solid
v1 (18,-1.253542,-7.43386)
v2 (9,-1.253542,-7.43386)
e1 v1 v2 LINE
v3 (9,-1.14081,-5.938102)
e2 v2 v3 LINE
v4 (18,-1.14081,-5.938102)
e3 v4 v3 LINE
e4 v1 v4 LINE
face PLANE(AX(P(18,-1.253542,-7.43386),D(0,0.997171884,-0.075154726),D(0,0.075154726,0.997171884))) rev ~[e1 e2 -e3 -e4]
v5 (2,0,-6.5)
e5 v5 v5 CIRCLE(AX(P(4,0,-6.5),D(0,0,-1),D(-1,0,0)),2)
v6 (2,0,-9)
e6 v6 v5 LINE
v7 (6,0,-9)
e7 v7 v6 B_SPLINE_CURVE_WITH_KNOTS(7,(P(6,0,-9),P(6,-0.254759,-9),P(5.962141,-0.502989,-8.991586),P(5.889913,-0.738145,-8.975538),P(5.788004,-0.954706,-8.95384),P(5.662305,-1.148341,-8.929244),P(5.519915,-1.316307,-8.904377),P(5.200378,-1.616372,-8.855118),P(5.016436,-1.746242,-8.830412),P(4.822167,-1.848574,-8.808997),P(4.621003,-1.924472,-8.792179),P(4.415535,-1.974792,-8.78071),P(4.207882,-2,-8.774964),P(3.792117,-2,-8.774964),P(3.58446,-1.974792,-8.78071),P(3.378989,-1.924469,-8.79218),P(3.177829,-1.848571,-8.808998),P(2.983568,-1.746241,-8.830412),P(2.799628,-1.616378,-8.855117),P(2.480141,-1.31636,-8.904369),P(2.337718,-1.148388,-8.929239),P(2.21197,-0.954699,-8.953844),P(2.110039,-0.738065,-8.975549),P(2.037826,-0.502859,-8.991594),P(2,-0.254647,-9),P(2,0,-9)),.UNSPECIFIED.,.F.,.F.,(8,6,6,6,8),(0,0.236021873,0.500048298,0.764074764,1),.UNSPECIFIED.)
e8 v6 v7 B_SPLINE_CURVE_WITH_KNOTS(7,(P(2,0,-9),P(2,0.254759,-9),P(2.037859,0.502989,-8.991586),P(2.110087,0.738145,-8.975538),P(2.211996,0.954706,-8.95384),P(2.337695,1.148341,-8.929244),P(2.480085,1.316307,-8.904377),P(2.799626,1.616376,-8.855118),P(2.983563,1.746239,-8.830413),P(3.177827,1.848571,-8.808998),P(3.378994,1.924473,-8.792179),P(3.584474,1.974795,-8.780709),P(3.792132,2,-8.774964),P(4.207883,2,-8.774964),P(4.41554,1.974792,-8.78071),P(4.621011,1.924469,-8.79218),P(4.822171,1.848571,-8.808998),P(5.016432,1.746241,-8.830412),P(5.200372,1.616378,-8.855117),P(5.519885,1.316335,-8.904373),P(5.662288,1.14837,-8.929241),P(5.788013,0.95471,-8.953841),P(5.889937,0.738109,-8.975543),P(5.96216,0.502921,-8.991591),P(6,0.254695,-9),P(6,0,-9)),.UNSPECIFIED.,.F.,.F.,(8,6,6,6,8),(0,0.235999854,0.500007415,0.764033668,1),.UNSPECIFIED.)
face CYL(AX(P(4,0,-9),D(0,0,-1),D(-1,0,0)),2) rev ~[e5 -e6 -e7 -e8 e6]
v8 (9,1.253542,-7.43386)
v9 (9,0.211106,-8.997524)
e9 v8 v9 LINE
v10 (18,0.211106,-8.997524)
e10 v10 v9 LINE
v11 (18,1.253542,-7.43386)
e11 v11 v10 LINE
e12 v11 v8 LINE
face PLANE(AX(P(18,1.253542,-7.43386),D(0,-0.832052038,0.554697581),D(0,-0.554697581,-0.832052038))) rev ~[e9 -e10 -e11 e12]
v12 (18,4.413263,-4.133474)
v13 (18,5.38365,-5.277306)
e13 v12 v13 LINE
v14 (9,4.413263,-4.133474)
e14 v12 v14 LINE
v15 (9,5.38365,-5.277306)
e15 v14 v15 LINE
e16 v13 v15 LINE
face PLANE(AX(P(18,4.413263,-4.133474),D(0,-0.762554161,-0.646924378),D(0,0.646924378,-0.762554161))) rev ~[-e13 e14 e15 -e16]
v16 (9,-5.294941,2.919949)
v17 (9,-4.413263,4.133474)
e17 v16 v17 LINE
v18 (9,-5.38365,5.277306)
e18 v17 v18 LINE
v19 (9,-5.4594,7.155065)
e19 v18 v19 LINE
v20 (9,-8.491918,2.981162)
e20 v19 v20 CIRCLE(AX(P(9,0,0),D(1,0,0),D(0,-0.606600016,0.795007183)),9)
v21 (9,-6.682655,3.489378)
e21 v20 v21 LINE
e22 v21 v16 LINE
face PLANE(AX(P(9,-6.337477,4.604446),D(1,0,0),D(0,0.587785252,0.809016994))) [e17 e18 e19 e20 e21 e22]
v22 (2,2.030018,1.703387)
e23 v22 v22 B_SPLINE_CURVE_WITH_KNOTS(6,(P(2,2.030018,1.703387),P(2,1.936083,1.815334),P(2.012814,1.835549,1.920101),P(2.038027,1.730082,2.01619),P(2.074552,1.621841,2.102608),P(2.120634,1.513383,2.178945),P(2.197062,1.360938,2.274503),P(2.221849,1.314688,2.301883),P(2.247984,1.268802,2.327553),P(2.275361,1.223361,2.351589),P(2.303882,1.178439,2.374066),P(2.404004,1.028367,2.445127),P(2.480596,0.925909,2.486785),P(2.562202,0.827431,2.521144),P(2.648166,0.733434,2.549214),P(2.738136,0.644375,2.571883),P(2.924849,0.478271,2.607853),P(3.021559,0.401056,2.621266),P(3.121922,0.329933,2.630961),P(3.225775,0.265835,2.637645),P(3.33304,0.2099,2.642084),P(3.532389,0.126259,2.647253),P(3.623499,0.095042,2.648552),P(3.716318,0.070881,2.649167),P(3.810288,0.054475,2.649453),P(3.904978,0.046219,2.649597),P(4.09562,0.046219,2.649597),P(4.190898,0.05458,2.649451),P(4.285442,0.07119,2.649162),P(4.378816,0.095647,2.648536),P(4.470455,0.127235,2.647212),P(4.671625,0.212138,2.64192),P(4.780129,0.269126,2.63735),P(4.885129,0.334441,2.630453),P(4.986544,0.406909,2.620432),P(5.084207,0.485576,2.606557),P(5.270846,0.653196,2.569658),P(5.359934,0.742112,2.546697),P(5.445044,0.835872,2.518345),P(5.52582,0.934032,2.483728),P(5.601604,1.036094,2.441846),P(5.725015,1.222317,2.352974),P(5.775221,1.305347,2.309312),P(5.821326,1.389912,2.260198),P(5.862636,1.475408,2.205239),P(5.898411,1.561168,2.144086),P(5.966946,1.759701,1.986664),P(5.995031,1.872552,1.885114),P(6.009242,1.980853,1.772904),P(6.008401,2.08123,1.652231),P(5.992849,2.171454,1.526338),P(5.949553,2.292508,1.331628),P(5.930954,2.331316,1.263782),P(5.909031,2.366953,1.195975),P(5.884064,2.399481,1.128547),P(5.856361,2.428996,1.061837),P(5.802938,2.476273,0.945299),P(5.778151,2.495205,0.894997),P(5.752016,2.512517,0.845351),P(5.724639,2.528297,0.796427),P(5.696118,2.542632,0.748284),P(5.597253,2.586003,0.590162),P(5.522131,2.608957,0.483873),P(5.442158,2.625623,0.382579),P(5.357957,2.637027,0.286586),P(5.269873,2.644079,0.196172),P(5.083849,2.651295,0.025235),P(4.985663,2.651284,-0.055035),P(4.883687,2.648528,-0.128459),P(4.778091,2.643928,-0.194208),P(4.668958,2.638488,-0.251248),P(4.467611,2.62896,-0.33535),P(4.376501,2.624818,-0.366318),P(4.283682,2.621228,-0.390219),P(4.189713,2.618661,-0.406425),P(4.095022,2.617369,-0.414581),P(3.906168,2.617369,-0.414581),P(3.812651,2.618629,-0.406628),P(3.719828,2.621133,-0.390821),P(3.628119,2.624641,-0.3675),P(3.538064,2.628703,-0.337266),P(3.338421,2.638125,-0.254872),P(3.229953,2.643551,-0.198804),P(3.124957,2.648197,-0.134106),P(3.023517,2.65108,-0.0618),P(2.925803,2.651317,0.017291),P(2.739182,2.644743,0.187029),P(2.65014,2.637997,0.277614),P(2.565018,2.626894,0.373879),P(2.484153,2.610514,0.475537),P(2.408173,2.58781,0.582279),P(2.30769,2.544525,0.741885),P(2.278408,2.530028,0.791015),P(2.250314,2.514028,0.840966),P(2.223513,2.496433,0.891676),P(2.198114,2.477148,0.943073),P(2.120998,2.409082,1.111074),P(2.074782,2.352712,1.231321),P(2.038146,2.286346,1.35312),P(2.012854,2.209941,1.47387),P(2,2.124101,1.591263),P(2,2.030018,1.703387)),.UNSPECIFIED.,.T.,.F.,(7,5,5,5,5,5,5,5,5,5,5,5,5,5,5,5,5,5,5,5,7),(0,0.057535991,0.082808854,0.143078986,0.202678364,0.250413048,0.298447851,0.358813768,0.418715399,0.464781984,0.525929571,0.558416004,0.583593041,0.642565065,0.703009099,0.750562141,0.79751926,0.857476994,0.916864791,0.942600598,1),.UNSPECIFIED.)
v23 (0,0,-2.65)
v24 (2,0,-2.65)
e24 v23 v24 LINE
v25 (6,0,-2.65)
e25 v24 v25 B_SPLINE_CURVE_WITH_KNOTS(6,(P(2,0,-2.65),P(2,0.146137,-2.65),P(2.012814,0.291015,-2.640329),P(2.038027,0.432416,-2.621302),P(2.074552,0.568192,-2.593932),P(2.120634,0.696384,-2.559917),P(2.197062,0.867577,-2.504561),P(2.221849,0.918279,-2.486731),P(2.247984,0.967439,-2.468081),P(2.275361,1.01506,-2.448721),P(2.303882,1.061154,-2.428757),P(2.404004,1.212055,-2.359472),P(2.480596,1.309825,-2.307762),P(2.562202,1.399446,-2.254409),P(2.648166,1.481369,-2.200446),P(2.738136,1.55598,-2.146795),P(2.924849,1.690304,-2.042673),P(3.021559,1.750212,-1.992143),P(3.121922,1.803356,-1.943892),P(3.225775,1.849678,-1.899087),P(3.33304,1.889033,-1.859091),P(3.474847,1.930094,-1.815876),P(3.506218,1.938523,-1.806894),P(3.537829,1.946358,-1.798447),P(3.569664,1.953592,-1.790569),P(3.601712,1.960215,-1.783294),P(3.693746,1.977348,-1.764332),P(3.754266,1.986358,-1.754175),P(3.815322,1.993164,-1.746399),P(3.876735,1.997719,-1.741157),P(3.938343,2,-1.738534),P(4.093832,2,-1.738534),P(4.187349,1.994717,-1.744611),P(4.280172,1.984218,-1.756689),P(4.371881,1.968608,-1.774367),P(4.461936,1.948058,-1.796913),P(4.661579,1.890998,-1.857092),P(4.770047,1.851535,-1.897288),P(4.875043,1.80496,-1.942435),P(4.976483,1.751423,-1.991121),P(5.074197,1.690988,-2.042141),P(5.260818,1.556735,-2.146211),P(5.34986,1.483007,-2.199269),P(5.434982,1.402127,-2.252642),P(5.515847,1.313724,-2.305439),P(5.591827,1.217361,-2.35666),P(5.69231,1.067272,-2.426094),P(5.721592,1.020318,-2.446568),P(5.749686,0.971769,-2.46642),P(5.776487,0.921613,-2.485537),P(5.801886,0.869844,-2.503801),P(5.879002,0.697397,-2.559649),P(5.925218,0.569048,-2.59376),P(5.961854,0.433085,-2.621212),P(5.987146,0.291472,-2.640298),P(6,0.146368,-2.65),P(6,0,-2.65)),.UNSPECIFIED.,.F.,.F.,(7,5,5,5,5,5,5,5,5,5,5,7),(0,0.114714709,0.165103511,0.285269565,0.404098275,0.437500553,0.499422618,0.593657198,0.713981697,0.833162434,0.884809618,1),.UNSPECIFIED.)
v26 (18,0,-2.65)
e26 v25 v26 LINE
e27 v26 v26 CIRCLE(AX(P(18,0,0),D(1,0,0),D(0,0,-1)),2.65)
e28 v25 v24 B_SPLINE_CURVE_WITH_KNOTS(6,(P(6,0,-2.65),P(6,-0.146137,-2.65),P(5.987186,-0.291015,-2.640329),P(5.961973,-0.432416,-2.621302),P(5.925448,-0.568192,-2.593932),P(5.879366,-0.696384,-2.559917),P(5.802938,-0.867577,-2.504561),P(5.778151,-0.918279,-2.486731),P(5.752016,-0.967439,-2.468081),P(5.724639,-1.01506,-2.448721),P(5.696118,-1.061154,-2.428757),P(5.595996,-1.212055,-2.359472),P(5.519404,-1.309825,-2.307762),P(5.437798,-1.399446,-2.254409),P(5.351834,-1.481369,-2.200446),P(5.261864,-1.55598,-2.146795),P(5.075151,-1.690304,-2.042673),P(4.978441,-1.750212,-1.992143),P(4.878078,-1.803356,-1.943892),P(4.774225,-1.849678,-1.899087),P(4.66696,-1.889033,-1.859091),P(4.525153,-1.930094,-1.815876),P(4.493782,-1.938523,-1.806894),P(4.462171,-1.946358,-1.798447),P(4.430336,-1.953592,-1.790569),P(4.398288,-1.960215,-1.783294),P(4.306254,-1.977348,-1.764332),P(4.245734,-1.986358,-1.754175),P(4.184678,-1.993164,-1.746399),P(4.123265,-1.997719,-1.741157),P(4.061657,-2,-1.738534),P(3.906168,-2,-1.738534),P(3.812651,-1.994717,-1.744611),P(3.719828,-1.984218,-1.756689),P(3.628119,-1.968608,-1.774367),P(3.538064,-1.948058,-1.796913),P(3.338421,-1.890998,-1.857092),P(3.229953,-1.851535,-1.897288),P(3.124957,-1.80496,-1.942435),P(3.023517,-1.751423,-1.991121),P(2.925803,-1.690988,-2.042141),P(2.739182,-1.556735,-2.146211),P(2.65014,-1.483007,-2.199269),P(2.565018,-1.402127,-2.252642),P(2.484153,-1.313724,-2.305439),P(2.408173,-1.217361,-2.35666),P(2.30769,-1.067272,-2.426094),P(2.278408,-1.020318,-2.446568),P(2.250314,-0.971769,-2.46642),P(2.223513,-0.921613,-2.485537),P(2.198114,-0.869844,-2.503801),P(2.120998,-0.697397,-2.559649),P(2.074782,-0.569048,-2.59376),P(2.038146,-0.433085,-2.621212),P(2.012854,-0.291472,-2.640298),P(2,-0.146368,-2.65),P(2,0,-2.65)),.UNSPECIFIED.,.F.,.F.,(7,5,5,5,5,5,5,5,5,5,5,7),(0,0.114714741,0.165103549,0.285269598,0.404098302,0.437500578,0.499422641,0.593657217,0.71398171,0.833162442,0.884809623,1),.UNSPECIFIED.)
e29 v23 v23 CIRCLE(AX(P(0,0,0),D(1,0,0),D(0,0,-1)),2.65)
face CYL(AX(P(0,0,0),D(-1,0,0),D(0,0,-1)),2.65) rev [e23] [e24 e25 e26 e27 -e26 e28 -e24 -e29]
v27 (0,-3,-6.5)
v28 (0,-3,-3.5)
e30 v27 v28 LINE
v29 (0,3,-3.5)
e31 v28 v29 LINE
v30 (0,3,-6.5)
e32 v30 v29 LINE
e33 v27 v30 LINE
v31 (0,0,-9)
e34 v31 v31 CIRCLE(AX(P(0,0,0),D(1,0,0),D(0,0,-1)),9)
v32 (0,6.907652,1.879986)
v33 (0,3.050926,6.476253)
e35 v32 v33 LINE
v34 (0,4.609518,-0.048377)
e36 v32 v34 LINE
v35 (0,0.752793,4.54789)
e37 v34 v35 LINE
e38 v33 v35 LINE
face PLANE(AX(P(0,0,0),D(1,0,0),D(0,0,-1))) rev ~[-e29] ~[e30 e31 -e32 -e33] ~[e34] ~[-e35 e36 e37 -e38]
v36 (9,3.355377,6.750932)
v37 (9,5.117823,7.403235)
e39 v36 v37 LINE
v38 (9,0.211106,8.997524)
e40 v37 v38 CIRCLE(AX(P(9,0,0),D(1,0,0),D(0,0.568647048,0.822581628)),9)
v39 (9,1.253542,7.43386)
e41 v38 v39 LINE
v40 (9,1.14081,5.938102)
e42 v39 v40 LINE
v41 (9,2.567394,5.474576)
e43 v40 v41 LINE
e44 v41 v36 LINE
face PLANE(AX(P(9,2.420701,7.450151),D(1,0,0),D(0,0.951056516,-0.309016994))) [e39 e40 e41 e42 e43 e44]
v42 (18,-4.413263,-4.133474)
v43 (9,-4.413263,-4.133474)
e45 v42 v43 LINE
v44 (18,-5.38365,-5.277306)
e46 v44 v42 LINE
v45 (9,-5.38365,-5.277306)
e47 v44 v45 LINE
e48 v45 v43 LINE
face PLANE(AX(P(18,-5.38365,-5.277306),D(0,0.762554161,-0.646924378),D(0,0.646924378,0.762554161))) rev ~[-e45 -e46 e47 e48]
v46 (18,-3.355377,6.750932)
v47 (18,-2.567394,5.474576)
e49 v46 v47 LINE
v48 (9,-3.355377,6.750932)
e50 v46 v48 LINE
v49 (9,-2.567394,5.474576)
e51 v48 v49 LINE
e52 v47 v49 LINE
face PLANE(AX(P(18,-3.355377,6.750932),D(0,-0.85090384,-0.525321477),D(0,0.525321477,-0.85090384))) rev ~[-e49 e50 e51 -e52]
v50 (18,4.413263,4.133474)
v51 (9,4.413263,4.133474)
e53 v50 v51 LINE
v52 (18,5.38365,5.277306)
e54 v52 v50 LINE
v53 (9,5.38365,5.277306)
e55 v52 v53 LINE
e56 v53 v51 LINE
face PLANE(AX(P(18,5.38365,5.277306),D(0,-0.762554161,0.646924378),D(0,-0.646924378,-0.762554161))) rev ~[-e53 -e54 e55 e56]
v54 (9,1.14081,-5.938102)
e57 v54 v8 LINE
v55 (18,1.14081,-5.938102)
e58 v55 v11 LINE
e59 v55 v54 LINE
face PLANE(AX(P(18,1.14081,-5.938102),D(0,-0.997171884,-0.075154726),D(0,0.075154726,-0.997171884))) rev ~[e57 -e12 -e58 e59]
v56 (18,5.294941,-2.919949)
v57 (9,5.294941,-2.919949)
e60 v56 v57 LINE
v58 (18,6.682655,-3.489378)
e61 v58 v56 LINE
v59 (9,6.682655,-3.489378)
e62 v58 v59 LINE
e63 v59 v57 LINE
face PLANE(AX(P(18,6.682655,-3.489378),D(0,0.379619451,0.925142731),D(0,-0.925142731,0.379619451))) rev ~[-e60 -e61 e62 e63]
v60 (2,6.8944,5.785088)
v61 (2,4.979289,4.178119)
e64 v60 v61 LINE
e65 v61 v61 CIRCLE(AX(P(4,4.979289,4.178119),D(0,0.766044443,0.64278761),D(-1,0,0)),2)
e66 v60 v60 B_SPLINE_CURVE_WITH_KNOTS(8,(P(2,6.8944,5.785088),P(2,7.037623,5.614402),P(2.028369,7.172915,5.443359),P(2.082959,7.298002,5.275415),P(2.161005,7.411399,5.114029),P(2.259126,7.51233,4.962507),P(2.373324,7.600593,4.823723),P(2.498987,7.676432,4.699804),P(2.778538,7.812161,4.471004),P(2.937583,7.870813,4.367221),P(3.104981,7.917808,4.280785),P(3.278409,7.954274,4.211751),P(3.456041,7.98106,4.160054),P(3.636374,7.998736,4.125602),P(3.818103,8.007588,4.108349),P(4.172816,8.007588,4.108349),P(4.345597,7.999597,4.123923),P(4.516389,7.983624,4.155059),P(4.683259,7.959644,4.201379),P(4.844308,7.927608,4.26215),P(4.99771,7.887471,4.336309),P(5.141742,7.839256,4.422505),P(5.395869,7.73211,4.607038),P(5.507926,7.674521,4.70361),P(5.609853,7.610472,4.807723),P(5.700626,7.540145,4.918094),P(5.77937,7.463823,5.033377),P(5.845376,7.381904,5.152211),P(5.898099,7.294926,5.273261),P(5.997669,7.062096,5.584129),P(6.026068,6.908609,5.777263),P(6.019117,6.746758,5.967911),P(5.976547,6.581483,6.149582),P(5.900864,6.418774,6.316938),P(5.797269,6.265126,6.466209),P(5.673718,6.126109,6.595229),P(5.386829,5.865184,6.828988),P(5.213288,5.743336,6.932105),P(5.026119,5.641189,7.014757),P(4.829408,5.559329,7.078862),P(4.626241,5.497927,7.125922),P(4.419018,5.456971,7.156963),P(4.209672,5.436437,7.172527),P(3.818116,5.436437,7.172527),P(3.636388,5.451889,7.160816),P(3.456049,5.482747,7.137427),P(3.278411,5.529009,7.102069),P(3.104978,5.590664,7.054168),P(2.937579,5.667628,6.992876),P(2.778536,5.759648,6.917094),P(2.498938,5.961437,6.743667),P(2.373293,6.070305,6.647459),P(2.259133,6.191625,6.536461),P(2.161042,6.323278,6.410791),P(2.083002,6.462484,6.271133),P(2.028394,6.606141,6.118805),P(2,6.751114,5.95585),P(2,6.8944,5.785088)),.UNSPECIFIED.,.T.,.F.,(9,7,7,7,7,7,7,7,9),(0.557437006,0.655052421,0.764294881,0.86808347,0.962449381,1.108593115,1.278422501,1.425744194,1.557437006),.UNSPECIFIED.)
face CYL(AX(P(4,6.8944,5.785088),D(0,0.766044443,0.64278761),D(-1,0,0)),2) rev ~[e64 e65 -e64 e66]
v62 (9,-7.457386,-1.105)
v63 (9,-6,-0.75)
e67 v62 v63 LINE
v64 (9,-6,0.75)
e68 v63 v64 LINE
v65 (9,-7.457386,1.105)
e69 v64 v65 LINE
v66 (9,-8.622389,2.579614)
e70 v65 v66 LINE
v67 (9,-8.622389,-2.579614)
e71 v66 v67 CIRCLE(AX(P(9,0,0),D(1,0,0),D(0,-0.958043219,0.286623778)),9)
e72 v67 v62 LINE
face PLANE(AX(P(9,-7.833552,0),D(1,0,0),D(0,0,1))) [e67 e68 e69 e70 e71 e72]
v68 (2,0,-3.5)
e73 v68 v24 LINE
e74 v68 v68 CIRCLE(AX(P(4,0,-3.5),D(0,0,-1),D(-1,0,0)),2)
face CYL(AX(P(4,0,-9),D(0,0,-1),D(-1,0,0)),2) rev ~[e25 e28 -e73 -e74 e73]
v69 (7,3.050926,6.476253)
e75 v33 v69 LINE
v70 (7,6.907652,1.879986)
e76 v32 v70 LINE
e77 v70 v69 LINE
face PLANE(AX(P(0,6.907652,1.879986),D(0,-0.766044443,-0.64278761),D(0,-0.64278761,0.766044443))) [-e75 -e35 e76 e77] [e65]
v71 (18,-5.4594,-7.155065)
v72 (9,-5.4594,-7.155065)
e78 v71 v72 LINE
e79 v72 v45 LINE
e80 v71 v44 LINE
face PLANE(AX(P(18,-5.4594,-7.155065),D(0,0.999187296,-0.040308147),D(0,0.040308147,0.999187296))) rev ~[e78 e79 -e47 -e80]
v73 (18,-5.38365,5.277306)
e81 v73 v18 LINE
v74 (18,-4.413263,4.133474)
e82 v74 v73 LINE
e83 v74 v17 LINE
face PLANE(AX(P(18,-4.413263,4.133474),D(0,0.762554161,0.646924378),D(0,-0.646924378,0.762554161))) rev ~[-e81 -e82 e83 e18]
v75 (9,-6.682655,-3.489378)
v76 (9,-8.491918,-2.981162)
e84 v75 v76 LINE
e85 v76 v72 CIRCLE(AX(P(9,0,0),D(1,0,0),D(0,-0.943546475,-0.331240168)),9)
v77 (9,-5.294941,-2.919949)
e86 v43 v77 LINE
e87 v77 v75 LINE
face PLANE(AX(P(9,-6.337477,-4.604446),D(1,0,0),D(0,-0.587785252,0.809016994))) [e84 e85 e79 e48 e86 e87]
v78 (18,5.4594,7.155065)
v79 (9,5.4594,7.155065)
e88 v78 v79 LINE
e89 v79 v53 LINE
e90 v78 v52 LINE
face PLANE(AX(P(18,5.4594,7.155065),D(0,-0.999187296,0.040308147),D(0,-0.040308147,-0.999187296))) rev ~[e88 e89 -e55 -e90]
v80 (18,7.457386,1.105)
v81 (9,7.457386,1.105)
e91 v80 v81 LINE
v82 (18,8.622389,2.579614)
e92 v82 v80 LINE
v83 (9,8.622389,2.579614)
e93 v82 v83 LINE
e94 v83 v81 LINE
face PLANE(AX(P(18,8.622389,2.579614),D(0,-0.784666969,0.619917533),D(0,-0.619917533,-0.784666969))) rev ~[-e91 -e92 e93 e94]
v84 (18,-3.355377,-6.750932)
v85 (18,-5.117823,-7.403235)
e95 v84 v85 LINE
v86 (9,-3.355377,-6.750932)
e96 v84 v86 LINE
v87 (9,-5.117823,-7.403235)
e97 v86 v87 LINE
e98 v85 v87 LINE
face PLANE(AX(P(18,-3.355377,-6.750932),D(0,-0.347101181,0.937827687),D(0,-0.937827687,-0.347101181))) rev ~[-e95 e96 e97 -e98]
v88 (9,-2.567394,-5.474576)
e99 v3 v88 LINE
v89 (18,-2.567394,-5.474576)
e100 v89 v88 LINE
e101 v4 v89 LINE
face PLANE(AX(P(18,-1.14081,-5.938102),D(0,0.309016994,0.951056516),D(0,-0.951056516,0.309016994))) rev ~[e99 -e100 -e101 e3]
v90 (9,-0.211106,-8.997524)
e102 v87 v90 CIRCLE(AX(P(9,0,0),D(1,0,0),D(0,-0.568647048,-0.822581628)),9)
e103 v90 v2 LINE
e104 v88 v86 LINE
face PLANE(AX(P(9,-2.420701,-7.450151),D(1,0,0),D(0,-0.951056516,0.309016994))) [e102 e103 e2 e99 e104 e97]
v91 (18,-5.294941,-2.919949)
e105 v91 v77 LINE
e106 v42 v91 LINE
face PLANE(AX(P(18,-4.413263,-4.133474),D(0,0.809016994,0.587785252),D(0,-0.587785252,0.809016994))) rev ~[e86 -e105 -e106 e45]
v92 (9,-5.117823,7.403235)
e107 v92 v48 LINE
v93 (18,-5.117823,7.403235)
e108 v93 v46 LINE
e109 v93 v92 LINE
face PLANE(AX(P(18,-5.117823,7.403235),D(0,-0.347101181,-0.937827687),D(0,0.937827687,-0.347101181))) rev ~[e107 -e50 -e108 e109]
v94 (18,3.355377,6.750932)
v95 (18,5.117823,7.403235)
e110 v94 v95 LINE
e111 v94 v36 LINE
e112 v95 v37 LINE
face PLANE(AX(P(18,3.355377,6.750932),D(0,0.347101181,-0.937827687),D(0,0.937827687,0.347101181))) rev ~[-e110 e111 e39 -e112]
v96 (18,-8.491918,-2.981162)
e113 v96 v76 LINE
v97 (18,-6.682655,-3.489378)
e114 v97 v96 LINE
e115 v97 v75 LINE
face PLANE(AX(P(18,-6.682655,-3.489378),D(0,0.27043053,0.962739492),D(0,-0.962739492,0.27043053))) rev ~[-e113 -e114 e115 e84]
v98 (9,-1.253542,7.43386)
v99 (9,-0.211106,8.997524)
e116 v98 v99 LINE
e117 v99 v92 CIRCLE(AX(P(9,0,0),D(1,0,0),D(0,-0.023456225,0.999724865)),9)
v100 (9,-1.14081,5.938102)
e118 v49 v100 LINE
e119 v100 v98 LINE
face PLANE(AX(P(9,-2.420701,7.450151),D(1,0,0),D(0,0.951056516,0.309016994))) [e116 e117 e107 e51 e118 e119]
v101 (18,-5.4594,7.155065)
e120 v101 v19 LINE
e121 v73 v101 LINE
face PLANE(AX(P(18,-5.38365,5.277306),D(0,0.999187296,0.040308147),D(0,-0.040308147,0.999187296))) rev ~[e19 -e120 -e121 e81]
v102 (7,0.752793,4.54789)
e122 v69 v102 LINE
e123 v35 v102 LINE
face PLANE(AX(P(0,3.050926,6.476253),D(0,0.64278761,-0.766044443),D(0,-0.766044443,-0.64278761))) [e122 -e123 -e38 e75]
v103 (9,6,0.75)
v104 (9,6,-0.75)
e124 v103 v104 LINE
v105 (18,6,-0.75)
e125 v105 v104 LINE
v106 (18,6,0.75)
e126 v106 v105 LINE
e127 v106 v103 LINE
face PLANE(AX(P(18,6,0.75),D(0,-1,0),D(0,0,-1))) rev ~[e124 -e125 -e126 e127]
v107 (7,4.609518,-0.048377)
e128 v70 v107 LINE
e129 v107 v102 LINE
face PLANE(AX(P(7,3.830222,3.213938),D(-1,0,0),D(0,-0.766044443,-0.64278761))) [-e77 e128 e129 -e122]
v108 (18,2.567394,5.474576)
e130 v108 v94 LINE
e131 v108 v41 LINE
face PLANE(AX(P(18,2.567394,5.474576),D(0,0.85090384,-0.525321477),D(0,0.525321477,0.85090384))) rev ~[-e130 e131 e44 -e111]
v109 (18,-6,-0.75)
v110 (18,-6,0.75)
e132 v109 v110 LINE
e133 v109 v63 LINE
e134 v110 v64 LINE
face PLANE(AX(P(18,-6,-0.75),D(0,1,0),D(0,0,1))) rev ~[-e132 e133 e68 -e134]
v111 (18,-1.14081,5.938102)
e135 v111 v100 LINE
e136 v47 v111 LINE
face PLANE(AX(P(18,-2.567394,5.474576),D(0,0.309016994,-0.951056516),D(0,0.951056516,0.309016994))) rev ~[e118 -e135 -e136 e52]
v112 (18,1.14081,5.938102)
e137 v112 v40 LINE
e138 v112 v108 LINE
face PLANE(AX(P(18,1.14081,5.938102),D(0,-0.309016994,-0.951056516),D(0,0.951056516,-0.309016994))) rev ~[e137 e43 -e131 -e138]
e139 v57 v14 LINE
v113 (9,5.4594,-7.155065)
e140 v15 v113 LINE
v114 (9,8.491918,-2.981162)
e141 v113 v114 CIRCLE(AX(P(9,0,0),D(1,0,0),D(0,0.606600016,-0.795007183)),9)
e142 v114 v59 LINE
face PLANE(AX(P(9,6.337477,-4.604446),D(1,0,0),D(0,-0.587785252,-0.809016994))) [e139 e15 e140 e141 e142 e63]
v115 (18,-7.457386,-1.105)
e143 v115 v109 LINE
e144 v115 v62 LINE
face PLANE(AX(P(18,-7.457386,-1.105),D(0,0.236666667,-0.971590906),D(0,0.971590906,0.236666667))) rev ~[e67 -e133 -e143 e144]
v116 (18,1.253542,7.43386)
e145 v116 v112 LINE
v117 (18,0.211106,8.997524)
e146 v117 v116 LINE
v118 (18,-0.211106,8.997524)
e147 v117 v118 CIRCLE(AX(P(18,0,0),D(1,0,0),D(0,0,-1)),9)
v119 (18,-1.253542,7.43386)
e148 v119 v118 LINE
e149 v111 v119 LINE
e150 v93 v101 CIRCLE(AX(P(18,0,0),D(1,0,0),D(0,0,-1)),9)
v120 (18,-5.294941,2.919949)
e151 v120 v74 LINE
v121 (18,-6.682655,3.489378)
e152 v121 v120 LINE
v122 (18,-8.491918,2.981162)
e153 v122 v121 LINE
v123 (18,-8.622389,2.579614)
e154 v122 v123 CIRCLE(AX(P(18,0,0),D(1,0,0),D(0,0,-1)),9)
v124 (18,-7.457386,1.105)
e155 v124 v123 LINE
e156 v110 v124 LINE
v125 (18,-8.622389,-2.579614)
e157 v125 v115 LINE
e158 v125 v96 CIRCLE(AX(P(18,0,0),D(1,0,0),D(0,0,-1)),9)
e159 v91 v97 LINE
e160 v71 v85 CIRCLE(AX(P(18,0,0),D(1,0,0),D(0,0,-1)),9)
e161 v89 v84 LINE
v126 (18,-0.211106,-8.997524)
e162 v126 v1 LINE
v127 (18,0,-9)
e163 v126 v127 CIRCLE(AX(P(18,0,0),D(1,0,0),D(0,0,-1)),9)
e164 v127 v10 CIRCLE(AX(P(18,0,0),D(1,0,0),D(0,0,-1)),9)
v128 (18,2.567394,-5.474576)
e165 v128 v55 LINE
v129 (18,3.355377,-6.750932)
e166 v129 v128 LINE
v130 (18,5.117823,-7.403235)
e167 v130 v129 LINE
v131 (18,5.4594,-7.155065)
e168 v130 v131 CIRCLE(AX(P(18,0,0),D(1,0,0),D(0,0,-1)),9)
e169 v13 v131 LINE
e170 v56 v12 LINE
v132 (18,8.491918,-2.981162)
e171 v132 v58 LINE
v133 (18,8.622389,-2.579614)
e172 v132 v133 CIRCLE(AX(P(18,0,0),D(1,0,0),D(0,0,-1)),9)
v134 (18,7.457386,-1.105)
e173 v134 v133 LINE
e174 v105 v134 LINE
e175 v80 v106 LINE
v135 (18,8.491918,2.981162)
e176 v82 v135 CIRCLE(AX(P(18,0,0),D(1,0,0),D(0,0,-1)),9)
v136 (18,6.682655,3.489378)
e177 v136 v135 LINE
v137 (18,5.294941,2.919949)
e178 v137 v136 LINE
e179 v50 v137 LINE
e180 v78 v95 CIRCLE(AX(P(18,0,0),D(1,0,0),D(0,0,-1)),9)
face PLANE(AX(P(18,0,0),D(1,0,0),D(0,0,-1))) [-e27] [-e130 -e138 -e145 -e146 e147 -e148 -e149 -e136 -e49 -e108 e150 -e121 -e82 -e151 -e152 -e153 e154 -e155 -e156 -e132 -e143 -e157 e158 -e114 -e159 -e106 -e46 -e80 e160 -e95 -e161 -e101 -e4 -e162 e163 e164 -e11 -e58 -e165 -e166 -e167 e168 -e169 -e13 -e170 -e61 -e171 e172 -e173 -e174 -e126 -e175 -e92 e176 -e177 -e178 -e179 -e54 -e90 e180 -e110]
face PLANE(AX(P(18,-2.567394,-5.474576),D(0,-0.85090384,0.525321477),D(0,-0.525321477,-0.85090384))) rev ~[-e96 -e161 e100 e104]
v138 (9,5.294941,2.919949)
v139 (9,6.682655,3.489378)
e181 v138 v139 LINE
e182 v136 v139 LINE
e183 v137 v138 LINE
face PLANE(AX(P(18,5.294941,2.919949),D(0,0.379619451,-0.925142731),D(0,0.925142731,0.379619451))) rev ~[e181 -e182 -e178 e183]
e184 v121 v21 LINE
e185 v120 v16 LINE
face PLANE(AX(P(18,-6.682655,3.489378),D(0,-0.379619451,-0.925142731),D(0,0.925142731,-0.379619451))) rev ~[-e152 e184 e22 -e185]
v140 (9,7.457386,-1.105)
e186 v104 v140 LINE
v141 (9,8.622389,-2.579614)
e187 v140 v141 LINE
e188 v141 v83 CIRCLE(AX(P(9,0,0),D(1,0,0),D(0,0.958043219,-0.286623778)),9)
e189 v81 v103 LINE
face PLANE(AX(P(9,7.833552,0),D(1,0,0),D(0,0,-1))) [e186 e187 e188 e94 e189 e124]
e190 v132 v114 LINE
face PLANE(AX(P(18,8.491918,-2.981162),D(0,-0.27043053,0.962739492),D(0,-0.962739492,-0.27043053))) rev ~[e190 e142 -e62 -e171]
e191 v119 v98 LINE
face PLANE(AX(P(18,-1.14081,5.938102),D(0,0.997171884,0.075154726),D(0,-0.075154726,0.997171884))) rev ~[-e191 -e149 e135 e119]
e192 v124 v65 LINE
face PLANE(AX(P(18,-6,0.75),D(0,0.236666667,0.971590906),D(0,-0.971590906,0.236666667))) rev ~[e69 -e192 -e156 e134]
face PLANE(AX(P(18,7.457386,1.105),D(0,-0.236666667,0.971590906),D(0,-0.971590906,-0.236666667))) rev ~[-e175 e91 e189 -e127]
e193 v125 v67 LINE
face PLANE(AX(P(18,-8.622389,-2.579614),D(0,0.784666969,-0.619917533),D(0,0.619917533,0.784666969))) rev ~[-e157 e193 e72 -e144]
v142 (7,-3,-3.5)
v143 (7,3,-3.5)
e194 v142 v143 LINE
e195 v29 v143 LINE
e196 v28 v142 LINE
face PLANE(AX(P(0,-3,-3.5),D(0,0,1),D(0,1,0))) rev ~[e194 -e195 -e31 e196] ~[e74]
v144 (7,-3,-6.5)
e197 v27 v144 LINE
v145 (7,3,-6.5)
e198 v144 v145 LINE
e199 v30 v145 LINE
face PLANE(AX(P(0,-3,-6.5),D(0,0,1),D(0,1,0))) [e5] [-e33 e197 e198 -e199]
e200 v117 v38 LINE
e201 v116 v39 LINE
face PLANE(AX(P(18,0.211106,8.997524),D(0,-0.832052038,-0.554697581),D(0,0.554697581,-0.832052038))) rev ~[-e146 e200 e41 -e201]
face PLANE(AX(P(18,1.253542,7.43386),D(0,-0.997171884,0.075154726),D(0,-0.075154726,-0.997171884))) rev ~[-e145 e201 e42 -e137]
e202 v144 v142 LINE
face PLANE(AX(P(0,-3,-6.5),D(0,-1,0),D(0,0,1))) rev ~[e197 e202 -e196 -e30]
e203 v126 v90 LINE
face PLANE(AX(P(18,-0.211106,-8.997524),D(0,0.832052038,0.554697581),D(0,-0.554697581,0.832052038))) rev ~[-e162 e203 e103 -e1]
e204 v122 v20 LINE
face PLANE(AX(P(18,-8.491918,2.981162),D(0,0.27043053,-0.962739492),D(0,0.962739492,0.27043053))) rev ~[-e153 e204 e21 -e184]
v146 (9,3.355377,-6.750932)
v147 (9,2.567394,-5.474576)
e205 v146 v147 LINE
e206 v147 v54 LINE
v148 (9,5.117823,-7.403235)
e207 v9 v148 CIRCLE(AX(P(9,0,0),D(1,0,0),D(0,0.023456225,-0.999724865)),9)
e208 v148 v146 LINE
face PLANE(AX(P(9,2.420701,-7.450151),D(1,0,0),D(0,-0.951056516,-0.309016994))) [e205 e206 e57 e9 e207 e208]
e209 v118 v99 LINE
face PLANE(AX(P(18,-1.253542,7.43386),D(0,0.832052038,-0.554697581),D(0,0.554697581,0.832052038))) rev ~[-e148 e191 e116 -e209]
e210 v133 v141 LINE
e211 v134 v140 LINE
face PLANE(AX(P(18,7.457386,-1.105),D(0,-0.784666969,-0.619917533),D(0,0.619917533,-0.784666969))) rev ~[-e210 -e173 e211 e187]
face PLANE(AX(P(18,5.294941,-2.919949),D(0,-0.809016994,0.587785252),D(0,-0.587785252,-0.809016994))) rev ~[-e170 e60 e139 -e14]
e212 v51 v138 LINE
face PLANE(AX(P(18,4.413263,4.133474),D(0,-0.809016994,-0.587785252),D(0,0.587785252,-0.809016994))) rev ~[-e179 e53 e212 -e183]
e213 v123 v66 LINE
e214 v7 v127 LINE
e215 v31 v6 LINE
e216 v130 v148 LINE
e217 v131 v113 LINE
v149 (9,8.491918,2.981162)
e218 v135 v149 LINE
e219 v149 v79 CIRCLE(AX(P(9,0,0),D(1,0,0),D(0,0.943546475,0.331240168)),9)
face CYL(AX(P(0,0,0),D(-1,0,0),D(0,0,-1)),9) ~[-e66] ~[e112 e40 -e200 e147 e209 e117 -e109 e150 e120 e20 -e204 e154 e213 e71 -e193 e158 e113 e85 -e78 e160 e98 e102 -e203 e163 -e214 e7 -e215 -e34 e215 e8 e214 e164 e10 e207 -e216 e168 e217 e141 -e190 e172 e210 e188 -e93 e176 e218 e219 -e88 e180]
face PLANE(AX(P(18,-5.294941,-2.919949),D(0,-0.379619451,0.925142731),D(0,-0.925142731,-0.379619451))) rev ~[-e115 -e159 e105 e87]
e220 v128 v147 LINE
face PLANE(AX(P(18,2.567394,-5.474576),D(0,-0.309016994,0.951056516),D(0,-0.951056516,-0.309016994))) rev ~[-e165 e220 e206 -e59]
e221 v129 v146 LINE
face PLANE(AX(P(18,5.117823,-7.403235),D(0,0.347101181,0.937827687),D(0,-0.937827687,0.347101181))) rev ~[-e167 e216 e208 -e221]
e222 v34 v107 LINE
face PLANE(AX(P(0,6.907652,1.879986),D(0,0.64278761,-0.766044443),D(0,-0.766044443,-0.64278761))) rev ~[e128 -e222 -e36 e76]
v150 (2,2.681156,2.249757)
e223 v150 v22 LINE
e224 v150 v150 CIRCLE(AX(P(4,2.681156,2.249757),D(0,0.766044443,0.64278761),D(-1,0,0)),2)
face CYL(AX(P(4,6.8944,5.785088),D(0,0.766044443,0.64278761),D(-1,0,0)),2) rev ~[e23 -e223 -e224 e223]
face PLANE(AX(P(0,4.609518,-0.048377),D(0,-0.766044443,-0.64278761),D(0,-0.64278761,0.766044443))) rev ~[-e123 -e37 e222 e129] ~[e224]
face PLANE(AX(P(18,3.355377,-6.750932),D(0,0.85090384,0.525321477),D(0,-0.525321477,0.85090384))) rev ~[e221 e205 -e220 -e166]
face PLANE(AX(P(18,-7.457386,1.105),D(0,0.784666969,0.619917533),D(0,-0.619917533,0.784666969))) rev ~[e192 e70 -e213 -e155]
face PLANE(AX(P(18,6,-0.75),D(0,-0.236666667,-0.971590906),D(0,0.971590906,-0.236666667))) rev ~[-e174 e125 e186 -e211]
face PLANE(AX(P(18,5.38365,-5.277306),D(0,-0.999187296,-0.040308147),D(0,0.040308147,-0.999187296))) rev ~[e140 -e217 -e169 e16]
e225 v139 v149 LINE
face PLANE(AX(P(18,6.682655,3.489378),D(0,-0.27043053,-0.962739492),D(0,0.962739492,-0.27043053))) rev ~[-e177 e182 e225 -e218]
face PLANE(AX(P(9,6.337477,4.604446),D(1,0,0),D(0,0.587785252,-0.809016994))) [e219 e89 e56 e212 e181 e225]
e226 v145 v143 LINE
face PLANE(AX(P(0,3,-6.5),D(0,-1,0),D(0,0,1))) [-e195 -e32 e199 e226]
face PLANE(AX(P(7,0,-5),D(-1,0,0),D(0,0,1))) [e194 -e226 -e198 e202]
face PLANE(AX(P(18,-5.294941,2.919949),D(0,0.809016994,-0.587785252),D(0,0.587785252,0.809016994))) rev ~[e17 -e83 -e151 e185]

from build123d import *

# Parameters (mm, degrees)
ESQUISSE1_R                  = 9
ESQUISSE1_R_2                = 2.65
BOSS_EXTRU_1_DEPTH           = 18
ENL_V_MAT_EXTRU_2_DEPTH      = 9
R_P_TITION_CIRCULAIRE1_COUNT = 10
ESQUISSE6_W                  = 3
ESQUISSE6_H                  = 6
ENL_V_MAT_EXTRU_3_DEPTH      = 7
ESQUISSE7_R                  = 2
ENL_V_MAT_EXTRU_4_DEPTH      = 9
R_P_TITION_CIRCULAIRE2_COUNT = 2
R_P_TITION_CIRCULAIRE2_ANGLE = 130


with BuildPart() as part:
    # Esquisse1 → Boss.-Extru.1 (new body)
    with BuildSketch(Plane(origin=(0, 0, 0), x_dir=(0, 0, -1), z_dir=(1, 0, 0))):
        Circle(ESQUISSE1_R)
        Circle(ESQUISSE1_R_2, mode=Mode.SUBTRACT)
    extrude(amount=BOSS_EXTRU_1_DEPTH)

    # Esquisse5 → Enlèv. mat.-Extru.2 (cut)
    with BuildSketch(Plane(origin=(18, 0, 0), x_dir=(0, 0, -1), z_dir=(1, 0, 0))):
        with BuildLine():
            Line((-0.75, 6), (0.75, 6))
            Line((0.75, 6), (1.105, 7.457386359))
            Line((1.105, 7.457386359), (2.579613997, 8.622388974))
            ThreePointArc((2.579613997, 8.622388974), (0, 9), (-2.579613997, 8.622388974))
            Line((-2.579613997, 8.622388974), (-1.105, 7.457386359))
            Line((-1.105, 7.457386359), (-0.75, 6))
        make_face()
    enl_v_mat_extru_2 = extrude(amount=-ENL_V_MAT_EXTRU_2_DEPTH, mode=Mode.SUBTRACT)

    # Répétition circulaire1: Enlèv. mat.-Extru.2 ×10 about axis
    r_p_tition_circulaire1_axis = Axis((0, 0, 0), (1, 0, 0))
    for i in range(1, R_P_TITION_CIRCULAIRE1_COUNT):
        add(enl_v_mat_extru_2.rotate(r_p_tition_circulaire1_axis, i * 360 / R_P_TITION_CIRCULAIRE1_COUNT), mode=Mode.SUBTRACT)

    # Esquisse6 → Enlèv. mat.-Extru.3 (cut)
    with BuildSketch(Plane.ZY):
        with Locations((-5, 0)):
            Rectangle(ESQUISSE6_W, ESQUISSE6_H)
    enl_v_mat_extru_3 = extrude(amount=-ENL_V_MAT_EXTRU_3_DEPTH, mode=Mode.SUBTRACT)

    # Esquisse7 → Enlèv. mat.-Extru.4 (cut)
    with BuildSketch(Plane(origin=(0, 0, -9), x_dir=(-1, 0, 0), z_dir=(0, 0, -1))):
        with Locations((-4, 0)):
            Circle(ESQUISSE7_R)
    enl_v_mat_extru_4 = extrude(amount=-ENL_V_MAT_EXTRU_4_DEPTH, mode=Mode.SUBTRACT)

    # Répétition circulaire2: Enlèv. mat.-Extru.3, Enlèv. mat.-Extru.4 ×2 about axis
    r_p_tition_circulaire2_axis = Axis((0, 0, 0), (1, 0, 0))
    for i in range(1, R_P_TITION_CIRCULAIRE2_COUNT):
        add(enl_v_mat_extru_3.rotate(r_p_tition_circulaire2_axis, i * R_P_TITION_CIRCULAIRE2_ANGLE / (R_P_TITION_CIRCULAIRE2_COUNT - 1)), mode=Mode.SUBTRACT)
        add(enl_v_mat_extru_4.rotate(r_p_tition_circulaire2_axis, i * R_P_TITION_CIRCULAIRE2_ANGLE / (R_P_TITION_CIRCULAIRE2_COUNT - 1)), mode=Mode.SUBTRACT)


solid = part.part
